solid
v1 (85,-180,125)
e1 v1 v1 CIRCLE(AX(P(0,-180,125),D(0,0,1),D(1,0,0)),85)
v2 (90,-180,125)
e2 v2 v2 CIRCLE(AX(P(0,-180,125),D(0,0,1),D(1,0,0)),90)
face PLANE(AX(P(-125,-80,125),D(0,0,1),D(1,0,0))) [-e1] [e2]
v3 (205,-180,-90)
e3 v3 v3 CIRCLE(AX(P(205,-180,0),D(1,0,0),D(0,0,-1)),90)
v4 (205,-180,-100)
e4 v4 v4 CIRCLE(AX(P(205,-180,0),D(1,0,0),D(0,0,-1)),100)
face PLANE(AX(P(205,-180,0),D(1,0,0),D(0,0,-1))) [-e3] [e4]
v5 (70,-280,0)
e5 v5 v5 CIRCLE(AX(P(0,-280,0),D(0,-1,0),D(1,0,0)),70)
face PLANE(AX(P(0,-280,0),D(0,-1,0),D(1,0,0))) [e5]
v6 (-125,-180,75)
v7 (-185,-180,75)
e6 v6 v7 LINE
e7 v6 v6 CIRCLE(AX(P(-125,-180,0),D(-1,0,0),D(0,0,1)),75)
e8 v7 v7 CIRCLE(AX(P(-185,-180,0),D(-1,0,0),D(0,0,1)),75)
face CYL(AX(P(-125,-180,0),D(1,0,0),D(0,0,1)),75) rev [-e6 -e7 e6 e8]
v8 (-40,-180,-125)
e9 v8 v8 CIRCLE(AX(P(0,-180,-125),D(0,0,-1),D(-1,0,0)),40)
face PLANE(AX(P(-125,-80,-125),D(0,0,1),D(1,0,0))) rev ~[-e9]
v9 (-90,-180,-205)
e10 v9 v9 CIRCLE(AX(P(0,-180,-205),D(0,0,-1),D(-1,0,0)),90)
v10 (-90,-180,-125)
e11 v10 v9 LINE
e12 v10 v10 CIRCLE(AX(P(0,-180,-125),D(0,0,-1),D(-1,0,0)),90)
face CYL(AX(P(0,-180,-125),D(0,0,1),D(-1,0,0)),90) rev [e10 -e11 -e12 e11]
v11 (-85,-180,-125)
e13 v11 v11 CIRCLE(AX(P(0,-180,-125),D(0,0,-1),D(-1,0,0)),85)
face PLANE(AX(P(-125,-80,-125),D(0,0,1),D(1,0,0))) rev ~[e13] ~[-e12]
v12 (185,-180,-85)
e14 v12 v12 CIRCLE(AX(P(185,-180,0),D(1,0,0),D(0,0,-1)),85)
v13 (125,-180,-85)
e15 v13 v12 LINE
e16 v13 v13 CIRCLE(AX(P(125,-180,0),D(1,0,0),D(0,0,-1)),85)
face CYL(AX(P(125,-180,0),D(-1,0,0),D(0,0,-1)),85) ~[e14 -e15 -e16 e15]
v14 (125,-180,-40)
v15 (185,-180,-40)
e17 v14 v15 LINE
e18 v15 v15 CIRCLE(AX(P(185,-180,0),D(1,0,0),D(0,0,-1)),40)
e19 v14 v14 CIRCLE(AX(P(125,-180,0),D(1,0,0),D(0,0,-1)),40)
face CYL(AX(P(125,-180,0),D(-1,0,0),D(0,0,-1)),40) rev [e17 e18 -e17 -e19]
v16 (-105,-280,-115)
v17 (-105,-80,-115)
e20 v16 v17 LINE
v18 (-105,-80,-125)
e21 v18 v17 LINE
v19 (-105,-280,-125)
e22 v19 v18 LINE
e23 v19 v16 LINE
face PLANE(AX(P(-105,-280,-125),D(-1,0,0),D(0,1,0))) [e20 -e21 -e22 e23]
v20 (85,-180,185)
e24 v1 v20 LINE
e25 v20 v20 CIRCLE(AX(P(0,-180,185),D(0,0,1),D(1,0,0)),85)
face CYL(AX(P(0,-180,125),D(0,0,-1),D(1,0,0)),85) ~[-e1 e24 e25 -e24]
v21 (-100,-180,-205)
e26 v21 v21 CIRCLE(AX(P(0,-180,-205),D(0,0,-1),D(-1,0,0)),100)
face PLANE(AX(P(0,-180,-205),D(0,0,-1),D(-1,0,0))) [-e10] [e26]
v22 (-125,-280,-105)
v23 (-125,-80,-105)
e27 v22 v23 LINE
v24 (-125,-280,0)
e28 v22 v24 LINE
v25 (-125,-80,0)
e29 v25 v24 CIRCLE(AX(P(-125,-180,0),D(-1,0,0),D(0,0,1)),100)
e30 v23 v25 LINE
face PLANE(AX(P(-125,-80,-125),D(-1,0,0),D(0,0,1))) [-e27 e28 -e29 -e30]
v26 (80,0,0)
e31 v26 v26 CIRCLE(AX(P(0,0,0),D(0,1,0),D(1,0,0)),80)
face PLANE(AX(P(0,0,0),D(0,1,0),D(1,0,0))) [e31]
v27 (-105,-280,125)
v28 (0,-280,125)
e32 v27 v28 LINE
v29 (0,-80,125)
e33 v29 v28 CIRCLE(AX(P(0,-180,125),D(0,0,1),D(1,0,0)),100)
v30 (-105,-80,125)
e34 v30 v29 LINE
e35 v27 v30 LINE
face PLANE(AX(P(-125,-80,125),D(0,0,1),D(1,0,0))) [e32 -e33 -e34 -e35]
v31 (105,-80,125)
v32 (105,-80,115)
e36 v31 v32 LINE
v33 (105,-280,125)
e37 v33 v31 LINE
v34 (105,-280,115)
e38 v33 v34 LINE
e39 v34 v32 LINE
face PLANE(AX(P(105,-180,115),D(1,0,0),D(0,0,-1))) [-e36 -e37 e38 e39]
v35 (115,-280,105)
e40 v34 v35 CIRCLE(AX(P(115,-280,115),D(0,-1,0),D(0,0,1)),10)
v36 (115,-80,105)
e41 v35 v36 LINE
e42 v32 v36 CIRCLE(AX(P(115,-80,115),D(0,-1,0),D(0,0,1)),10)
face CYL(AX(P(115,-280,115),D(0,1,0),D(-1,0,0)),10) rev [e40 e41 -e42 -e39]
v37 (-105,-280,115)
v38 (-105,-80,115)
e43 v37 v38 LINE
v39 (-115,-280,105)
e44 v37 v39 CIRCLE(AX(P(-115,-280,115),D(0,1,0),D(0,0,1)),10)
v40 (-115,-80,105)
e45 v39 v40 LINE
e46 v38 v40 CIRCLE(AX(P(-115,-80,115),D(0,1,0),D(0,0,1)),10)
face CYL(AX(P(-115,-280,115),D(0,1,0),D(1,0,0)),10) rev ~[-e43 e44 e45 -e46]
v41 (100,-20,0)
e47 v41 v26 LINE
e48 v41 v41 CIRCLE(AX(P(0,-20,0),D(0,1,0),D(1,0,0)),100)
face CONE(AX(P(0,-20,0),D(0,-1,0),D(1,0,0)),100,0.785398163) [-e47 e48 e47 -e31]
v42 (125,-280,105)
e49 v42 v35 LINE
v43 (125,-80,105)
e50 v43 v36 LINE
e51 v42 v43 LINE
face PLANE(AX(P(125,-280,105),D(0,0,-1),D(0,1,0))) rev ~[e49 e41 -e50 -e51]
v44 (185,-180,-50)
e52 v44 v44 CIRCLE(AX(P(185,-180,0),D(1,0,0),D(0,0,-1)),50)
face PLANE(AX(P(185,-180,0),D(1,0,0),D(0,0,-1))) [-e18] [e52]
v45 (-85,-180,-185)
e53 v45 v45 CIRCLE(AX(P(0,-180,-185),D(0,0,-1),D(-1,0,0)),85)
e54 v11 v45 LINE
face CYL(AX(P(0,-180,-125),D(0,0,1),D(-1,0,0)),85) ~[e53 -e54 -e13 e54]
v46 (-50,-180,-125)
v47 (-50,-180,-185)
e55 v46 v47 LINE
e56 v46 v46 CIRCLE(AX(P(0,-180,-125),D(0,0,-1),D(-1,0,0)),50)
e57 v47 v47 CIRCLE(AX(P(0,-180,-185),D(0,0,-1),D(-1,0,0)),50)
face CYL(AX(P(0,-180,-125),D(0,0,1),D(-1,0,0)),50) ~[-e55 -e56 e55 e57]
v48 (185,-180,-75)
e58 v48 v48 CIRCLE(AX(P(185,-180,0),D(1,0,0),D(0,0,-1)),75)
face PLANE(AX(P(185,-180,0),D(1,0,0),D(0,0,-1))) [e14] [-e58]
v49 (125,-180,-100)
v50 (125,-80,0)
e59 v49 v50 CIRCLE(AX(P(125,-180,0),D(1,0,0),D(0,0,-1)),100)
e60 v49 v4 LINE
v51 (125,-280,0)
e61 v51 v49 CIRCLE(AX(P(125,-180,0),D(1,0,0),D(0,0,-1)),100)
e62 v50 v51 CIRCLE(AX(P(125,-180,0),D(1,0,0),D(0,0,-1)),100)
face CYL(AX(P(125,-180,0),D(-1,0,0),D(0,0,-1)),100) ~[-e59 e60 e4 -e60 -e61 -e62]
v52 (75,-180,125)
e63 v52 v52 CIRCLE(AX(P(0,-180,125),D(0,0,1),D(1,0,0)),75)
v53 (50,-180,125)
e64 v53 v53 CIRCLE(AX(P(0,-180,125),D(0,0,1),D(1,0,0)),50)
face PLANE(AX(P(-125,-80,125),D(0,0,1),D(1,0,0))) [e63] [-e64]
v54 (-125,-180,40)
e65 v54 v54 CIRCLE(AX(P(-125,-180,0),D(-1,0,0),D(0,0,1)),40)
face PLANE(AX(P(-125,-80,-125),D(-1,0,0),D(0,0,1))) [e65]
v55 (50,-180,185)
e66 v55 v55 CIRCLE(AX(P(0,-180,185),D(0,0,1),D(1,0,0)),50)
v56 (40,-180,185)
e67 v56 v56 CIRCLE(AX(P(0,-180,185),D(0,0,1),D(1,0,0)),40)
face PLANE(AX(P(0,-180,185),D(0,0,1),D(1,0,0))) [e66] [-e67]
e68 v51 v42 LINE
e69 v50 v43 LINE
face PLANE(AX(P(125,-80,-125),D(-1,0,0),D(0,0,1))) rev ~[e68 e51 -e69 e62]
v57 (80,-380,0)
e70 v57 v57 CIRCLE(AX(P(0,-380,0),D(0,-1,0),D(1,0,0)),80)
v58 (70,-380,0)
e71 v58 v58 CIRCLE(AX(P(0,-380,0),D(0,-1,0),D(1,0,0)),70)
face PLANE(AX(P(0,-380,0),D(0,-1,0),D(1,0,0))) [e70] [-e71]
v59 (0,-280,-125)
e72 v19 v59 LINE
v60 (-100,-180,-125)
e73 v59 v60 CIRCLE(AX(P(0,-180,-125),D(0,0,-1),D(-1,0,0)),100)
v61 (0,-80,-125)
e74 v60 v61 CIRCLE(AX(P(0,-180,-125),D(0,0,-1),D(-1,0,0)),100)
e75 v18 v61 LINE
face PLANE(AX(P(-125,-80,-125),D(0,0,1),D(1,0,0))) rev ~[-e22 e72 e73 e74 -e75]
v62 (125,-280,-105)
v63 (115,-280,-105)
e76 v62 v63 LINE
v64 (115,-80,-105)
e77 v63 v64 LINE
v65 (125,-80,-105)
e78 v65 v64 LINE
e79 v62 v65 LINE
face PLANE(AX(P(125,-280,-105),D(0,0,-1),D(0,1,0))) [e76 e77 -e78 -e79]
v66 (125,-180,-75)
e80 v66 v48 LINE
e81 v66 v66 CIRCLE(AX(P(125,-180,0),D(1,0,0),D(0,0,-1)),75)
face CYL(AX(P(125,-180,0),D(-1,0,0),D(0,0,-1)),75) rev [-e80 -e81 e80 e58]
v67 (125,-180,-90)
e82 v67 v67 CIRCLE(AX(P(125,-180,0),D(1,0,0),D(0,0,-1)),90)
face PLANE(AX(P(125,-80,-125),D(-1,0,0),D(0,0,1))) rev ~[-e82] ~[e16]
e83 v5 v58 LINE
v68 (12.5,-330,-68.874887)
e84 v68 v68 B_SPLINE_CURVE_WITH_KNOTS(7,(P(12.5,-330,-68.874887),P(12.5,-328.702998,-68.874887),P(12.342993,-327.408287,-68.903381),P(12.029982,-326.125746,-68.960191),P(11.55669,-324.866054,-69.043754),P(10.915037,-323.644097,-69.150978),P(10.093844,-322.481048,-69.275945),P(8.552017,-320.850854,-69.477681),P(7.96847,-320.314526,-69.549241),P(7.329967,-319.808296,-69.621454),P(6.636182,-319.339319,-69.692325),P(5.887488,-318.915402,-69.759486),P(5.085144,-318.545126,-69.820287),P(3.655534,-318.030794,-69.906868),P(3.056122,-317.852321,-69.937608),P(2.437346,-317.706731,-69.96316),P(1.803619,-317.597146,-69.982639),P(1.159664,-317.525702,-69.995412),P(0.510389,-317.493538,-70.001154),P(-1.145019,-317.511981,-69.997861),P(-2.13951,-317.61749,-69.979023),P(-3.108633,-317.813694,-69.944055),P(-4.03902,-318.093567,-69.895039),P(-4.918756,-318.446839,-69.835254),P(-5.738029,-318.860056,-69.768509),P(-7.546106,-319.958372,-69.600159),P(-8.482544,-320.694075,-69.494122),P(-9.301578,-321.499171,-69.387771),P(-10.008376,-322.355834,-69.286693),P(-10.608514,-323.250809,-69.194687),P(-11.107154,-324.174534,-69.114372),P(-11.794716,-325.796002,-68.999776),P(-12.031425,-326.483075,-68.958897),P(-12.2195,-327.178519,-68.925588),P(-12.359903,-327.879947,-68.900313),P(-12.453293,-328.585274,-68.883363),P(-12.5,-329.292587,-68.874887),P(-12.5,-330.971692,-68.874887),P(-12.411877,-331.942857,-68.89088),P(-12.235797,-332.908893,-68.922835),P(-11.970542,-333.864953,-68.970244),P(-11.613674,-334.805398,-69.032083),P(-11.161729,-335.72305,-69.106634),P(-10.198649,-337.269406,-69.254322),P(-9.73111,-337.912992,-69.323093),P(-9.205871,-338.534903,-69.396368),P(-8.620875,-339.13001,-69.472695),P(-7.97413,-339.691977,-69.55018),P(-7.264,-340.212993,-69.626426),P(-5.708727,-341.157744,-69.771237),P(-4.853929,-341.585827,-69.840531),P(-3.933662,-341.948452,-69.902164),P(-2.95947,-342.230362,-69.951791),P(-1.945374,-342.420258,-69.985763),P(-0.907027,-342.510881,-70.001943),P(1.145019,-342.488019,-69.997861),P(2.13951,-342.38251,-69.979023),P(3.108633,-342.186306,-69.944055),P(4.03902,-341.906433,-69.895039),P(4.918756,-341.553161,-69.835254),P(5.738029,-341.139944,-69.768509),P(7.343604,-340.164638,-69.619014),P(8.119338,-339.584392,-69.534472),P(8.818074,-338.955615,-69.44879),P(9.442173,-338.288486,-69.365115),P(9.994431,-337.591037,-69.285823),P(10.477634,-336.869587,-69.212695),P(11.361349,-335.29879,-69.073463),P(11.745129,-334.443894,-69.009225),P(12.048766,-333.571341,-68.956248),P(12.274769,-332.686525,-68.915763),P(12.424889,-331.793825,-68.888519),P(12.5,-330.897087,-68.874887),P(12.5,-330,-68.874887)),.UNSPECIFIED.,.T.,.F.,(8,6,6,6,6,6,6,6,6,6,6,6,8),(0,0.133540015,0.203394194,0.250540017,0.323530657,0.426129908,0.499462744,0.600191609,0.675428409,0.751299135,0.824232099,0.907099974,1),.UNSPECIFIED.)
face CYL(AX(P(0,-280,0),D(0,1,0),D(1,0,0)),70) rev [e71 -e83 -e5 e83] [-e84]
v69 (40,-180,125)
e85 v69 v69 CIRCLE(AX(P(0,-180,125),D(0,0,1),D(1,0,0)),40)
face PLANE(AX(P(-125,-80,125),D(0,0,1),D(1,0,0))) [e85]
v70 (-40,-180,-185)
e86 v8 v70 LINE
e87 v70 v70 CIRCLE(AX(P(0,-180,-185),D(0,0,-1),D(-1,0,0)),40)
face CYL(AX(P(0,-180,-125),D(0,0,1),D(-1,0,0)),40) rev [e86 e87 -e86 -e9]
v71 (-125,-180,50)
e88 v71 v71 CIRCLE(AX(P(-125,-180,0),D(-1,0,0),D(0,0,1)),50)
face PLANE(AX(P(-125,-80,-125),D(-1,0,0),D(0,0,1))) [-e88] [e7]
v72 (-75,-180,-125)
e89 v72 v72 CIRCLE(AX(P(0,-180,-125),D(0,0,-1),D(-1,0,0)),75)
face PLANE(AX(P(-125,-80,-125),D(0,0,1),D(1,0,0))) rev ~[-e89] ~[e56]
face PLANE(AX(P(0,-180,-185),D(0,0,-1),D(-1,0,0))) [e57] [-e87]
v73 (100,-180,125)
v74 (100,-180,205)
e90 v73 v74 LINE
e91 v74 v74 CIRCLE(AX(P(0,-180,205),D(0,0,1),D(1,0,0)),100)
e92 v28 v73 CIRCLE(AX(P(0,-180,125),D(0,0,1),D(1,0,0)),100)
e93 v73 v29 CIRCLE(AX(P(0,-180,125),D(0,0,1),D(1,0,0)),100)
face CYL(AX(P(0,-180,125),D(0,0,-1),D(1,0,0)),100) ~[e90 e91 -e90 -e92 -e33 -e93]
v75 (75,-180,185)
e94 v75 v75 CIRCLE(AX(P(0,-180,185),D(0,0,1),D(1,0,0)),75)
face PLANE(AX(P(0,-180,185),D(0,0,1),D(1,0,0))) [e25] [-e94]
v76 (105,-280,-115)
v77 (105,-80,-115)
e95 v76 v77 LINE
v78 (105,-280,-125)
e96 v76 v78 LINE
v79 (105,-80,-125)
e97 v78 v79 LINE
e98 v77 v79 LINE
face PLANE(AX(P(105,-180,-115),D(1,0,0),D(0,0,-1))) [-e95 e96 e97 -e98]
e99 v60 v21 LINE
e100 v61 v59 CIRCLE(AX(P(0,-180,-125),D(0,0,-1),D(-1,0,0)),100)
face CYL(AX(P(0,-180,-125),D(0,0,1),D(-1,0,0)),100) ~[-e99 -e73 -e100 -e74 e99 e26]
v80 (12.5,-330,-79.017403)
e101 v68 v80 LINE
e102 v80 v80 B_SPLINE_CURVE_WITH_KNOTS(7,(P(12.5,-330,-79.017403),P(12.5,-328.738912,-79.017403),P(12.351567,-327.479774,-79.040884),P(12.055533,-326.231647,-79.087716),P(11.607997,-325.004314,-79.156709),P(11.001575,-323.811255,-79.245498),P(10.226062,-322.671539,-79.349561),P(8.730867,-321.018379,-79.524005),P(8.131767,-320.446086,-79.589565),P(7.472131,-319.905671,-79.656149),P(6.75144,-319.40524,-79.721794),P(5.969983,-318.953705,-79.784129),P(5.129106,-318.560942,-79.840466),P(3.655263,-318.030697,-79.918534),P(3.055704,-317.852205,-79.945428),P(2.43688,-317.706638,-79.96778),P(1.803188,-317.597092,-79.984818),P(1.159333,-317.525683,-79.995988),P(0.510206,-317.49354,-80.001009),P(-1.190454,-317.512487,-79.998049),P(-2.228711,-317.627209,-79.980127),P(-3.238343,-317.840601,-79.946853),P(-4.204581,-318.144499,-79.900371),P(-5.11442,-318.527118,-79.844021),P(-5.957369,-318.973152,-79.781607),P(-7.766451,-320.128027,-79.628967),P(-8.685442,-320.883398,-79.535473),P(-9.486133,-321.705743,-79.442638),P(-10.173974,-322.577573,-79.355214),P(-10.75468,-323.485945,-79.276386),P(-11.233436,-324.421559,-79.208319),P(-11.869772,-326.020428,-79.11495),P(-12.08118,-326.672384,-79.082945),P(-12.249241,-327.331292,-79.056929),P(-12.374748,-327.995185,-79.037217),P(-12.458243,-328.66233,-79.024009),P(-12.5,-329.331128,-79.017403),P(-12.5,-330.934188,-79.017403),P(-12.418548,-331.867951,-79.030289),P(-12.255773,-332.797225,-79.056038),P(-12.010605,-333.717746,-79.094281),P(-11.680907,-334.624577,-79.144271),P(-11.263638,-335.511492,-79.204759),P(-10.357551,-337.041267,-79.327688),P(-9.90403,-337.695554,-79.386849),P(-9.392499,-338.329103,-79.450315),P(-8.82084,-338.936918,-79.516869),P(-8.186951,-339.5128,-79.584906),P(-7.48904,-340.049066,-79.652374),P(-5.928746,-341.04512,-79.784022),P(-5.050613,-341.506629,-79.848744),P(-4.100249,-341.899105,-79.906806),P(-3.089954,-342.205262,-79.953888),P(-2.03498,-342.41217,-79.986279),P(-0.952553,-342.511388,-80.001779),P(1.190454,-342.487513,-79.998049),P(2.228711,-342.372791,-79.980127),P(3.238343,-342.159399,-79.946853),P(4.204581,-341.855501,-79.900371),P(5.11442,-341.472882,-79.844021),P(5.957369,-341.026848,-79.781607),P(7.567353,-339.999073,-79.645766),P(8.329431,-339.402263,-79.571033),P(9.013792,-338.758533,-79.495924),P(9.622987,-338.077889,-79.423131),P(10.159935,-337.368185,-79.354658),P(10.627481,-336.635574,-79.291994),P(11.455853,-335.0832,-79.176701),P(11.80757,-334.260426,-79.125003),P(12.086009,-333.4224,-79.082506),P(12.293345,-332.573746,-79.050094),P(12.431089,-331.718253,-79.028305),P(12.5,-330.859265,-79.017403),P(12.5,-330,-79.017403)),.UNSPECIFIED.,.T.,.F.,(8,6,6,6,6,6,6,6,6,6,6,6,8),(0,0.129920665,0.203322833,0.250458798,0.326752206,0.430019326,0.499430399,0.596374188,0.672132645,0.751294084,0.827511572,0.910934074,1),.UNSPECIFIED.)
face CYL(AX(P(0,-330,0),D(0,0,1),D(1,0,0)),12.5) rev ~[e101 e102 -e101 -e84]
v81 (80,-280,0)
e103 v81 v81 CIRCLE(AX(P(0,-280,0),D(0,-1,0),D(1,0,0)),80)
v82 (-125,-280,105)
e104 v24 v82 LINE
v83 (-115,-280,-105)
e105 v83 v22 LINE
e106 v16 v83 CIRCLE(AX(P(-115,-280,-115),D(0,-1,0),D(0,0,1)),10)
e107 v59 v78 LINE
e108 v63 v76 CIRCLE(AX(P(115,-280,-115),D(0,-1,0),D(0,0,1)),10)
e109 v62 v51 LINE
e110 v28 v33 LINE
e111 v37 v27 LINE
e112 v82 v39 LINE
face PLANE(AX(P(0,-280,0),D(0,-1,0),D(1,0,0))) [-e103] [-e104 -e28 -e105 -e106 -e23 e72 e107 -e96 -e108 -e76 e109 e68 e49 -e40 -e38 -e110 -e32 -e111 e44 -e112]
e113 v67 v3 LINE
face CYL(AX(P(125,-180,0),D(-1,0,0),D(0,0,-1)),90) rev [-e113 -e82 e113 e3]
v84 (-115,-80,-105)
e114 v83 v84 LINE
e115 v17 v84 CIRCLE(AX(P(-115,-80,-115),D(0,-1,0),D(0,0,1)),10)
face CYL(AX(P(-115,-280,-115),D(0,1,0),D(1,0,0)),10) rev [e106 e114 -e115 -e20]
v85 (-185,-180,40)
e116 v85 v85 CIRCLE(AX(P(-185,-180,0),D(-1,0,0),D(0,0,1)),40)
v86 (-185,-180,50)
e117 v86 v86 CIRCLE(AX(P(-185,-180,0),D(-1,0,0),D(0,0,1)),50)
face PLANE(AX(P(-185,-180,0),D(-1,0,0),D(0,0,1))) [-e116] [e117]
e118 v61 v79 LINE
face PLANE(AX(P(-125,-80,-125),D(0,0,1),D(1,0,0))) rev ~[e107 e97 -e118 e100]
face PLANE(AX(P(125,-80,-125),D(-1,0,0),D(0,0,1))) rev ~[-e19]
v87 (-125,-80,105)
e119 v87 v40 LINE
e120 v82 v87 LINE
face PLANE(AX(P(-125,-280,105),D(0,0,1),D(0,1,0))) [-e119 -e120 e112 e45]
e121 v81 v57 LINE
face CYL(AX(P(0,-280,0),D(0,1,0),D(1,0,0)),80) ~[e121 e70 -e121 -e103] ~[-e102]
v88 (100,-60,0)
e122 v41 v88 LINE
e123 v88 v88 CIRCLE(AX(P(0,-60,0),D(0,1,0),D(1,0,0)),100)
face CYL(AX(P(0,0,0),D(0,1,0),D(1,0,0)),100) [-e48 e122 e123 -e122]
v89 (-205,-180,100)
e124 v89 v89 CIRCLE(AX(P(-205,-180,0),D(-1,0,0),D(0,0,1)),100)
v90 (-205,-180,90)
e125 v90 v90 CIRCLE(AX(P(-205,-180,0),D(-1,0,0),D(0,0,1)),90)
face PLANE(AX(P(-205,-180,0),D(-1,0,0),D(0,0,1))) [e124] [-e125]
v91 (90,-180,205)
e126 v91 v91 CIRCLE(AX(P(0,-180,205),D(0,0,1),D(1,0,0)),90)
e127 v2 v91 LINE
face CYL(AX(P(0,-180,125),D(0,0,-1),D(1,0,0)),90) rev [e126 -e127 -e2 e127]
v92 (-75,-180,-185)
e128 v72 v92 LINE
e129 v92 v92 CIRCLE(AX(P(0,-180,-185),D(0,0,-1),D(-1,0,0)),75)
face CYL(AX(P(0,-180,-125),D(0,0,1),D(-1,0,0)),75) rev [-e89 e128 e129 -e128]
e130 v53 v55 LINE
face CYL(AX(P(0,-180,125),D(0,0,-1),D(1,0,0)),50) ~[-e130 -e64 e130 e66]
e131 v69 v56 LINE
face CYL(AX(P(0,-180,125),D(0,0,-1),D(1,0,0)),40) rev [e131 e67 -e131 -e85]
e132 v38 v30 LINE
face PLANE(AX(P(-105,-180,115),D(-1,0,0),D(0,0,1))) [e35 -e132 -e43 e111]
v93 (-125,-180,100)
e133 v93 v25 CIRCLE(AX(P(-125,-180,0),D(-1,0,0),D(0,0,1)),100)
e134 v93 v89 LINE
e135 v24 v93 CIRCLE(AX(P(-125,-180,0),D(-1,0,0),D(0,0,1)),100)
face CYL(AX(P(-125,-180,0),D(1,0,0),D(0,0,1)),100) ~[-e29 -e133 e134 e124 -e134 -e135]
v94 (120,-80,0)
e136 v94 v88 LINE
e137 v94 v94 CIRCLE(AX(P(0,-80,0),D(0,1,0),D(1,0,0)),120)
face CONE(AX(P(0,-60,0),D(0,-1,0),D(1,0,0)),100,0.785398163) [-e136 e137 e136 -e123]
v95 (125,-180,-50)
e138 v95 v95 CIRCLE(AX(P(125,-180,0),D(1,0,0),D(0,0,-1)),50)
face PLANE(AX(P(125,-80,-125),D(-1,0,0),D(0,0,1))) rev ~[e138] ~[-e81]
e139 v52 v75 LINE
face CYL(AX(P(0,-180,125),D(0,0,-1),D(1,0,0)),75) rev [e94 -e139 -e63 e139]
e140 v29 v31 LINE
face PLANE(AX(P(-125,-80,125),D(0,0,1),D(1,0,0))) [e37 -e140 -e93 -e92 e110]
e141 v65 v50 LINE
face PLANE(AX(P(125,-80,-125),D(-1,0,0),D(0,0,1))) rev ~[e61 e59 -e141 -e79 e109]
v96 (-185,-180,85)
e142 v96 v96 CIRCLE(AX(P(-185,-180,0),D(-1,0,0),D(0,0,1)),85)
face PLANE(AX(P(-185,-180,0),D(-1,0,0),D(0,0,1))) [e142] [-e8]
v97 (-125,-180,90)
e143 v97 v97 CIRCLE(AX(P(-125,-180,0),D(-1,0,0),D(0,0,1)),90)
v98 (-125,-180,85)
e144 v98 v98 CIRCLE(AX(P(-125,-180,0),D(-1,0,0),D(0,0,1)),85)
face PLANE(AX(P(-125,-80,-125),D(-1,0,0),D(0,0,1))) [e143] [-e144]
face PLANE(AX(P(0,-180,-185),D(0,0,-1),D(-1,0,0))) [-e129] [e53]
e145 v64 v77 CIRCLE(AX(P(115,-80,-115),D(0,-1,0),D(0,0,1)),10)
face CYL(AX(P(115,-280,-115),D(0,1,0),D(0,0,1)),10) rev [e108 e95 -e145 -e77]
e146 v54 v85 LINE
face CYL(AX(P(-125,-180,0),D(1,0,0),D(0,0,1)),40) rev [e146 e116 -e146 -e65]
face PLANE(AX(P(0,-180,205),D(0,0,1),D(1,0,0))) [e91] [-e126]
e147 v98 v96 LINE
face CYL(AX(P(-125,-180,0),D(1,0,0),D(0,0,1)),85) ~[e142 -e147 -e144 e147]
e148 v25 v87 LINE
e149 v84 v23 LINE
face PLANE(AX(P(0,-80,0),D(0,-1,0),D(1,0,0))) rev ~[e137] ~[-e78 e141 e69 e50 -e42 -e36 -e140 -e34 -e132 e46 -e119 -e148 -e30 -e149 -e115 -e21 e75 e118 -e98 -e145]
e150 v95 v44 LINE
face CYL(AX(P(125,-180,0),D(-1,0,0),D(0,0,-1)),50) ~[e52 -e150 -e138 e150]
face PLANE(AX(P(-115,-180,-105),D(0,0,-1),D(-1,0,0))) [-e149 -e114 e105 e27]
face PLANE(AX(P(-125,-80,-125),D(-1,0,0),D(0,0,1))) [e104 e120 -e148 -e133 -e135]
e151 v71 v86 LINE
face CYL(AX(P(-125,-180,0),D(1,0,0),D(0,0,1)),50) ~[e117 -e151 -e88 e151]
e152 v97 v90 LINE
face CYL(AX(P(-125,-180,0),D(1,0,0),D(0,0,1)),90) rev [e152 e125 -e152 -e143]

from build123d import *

# Parameters (mm, degrees)
SKETCH1_R           = 100
BOSS_EXTRUDE1_DEPTH = 80
SKETCH2_W           = 250
SKETCH2_H           = 250
BOSS_EXTRUDE2_DEPTH = 200
SKETCH3_R           = 80
SKETCH3_R_2         = 70
BOSS_EXTRUDE3_DEPTH = 100
CHAMFER1_SIZE       = 20
SKETCH4_W           = 20
SKETCH4_H           = 200
CUT_EXTRUDE1_DEPTH  = 20
SKETCH5_R           = 100
SKETCH5_R_2         = 90
BOSS_EXTRUDE4_DEPTH = 80
SKETCH6_R           = 85
SKETCH6_R_2         = 75
SKETCH6_R_3         = 50
SKETCH6_R_4         = 40
BOSS_EXTRUDE5_DEPTH = 60
CIRPATTERN1_COUNT   = 4
FILLET1_R           = 10
SKETCH7_R           = 12.5
CUT_EXTRUDE2_DEPTH  = 123


with BuildPart() as part:
    # Sketch1 → Boss-Extrude1 (new body)
    with BuildSketch(Plane(origin=(0, 0, 0), x_dir=(1, 0, 0), z_dir=(0, 1, 0))):
        Circle(SKETCH1_R)
    extrude(amount=-BOSS_EXTRUDE1_DEPTH)

    # Sketch2 → Boss-Extrude2 (add)
    with BuildSketch(Plane.XZ.offset(80)):
        Rectangle(SKETCH2_W, SKETCH2_H)
    extrude(amount=BOSS_EXTRUDE2_DEPTH)

    # Sketch3 → Boss-Extrude3 (add)
    with BuildSketch(Plane.XZ.offset(280)):
        Circle(SKETCH3_R)
        Circle(SKETCH3_R_2, mode=Mode.SUBTRACT)
    extrude(amount=BOSS_EXTRUDE3_DEPTH)

    # Chamfer1
    chamfer1_edges = [part.edges().sort_by_distance(p)[0] for p in [
        (-100, 0, 0),
        (-100, -80, 0),
    ]]
    chamfer(chamfer1_edges, length=CHAMFER1_SIZE)

    # Sketch4 → Cut-Extrude1 (cut)
    with BuildSketch(Plane(origin=(125, 0, 0), x_dir=(0, 0, -1), z_dir=(1, 0, 0))):
        with Locations((-115, -180)):
            Rectangle(SKETCH4_W, SKETCH4_H)
        with Locations((115, -180)):
            Rectangle(SKETCH4_W, SKETCH4_H)
    cut_extrude1 = extrude(amount=-CUT_EXTRUDE1_DEPTH, mode=Mode.SUBTRACT)

    # Sketch5 → Boss-Extrude4 (add)
    with BuildSketch(Plane(origin=(125, 0, 0), x_dir=(0, 0, -1), z_dir=(1, 0, 0))):
        with Locations((0, -180)):
            Circle(SKETCH5_R)
        with Locations((0, -180)):
            Circle(SKETCH5_R_2, mode=Mode.SUBTRACT)
    boss_extrude4 = extrude(amount=BOSS_EXTRUDE4_DEPTH)

    # Sketch6 → Boss-Extrude5 (add)
    with BuildSketch(Plane(origin=(125, 0, 0), x_dir=(0, 0, -1), z_dir=(1, 0, 0))):
        with Locations((0, -180)):
            Circle(SKETCH6_R)
        with Locations((0, -180)):
            Circle(SKETCH6_R_2, mode=Mode.SUBTRACT)
        with Locations((0, -180)):
            Circle(SKETCH6_R_3)
        with Locations((0, -180)):
            Circle(SKETCH6_R_4, mode=Mode.SUBTRACT)
    boss_extrude5 = extrude(amount=BOSS_EXTRUDE5_DEPTH)

    # CirPattern1: Cut-Extrude1, Boss-Extrude4, Boss-Extrude5 ×4 about axis
    cirpattern1_axis = Axis((0, 0, 0), (0, 1, 0))
    for i in range(1, CIRPATTERN1_COUNT):
        add(cut_extrude1.rotate(cirpattern1_axis, i * 360 / CIRPATTERN1_COUNT), mode=Mode.SUBTRACT)
        add(boss_extrude4.rotate(cirpattern1_axis, i * 360 / CIRPATTERN1_COUNT))
        add(boss_extrude5.rotate(cirpattern1_axis, i * 360 / CIRPATTERN1_COUNT))

    # Fillet1
    fillet1_edges = [part.edges().sort_by_distance(p)[0] for p in [
        (-105, -180, 105),
        (-105, -180, -105),
        (105, -180, 105),
        (105, -180, -105),
    ]]
    fillet(fillet1_edges, radius=FILLET1_R)

    # Sketch7 → Cut-Extrude2 (cut)
    with BuildSketch(Plane.XY):
        with Locations((0, -330)):
            Circle(SKETCH7_R)
    extrude(amount=-CUT_EXTRUDE2_DEPTH, mode=Mode.SUBTRACT)


solid = part.part
